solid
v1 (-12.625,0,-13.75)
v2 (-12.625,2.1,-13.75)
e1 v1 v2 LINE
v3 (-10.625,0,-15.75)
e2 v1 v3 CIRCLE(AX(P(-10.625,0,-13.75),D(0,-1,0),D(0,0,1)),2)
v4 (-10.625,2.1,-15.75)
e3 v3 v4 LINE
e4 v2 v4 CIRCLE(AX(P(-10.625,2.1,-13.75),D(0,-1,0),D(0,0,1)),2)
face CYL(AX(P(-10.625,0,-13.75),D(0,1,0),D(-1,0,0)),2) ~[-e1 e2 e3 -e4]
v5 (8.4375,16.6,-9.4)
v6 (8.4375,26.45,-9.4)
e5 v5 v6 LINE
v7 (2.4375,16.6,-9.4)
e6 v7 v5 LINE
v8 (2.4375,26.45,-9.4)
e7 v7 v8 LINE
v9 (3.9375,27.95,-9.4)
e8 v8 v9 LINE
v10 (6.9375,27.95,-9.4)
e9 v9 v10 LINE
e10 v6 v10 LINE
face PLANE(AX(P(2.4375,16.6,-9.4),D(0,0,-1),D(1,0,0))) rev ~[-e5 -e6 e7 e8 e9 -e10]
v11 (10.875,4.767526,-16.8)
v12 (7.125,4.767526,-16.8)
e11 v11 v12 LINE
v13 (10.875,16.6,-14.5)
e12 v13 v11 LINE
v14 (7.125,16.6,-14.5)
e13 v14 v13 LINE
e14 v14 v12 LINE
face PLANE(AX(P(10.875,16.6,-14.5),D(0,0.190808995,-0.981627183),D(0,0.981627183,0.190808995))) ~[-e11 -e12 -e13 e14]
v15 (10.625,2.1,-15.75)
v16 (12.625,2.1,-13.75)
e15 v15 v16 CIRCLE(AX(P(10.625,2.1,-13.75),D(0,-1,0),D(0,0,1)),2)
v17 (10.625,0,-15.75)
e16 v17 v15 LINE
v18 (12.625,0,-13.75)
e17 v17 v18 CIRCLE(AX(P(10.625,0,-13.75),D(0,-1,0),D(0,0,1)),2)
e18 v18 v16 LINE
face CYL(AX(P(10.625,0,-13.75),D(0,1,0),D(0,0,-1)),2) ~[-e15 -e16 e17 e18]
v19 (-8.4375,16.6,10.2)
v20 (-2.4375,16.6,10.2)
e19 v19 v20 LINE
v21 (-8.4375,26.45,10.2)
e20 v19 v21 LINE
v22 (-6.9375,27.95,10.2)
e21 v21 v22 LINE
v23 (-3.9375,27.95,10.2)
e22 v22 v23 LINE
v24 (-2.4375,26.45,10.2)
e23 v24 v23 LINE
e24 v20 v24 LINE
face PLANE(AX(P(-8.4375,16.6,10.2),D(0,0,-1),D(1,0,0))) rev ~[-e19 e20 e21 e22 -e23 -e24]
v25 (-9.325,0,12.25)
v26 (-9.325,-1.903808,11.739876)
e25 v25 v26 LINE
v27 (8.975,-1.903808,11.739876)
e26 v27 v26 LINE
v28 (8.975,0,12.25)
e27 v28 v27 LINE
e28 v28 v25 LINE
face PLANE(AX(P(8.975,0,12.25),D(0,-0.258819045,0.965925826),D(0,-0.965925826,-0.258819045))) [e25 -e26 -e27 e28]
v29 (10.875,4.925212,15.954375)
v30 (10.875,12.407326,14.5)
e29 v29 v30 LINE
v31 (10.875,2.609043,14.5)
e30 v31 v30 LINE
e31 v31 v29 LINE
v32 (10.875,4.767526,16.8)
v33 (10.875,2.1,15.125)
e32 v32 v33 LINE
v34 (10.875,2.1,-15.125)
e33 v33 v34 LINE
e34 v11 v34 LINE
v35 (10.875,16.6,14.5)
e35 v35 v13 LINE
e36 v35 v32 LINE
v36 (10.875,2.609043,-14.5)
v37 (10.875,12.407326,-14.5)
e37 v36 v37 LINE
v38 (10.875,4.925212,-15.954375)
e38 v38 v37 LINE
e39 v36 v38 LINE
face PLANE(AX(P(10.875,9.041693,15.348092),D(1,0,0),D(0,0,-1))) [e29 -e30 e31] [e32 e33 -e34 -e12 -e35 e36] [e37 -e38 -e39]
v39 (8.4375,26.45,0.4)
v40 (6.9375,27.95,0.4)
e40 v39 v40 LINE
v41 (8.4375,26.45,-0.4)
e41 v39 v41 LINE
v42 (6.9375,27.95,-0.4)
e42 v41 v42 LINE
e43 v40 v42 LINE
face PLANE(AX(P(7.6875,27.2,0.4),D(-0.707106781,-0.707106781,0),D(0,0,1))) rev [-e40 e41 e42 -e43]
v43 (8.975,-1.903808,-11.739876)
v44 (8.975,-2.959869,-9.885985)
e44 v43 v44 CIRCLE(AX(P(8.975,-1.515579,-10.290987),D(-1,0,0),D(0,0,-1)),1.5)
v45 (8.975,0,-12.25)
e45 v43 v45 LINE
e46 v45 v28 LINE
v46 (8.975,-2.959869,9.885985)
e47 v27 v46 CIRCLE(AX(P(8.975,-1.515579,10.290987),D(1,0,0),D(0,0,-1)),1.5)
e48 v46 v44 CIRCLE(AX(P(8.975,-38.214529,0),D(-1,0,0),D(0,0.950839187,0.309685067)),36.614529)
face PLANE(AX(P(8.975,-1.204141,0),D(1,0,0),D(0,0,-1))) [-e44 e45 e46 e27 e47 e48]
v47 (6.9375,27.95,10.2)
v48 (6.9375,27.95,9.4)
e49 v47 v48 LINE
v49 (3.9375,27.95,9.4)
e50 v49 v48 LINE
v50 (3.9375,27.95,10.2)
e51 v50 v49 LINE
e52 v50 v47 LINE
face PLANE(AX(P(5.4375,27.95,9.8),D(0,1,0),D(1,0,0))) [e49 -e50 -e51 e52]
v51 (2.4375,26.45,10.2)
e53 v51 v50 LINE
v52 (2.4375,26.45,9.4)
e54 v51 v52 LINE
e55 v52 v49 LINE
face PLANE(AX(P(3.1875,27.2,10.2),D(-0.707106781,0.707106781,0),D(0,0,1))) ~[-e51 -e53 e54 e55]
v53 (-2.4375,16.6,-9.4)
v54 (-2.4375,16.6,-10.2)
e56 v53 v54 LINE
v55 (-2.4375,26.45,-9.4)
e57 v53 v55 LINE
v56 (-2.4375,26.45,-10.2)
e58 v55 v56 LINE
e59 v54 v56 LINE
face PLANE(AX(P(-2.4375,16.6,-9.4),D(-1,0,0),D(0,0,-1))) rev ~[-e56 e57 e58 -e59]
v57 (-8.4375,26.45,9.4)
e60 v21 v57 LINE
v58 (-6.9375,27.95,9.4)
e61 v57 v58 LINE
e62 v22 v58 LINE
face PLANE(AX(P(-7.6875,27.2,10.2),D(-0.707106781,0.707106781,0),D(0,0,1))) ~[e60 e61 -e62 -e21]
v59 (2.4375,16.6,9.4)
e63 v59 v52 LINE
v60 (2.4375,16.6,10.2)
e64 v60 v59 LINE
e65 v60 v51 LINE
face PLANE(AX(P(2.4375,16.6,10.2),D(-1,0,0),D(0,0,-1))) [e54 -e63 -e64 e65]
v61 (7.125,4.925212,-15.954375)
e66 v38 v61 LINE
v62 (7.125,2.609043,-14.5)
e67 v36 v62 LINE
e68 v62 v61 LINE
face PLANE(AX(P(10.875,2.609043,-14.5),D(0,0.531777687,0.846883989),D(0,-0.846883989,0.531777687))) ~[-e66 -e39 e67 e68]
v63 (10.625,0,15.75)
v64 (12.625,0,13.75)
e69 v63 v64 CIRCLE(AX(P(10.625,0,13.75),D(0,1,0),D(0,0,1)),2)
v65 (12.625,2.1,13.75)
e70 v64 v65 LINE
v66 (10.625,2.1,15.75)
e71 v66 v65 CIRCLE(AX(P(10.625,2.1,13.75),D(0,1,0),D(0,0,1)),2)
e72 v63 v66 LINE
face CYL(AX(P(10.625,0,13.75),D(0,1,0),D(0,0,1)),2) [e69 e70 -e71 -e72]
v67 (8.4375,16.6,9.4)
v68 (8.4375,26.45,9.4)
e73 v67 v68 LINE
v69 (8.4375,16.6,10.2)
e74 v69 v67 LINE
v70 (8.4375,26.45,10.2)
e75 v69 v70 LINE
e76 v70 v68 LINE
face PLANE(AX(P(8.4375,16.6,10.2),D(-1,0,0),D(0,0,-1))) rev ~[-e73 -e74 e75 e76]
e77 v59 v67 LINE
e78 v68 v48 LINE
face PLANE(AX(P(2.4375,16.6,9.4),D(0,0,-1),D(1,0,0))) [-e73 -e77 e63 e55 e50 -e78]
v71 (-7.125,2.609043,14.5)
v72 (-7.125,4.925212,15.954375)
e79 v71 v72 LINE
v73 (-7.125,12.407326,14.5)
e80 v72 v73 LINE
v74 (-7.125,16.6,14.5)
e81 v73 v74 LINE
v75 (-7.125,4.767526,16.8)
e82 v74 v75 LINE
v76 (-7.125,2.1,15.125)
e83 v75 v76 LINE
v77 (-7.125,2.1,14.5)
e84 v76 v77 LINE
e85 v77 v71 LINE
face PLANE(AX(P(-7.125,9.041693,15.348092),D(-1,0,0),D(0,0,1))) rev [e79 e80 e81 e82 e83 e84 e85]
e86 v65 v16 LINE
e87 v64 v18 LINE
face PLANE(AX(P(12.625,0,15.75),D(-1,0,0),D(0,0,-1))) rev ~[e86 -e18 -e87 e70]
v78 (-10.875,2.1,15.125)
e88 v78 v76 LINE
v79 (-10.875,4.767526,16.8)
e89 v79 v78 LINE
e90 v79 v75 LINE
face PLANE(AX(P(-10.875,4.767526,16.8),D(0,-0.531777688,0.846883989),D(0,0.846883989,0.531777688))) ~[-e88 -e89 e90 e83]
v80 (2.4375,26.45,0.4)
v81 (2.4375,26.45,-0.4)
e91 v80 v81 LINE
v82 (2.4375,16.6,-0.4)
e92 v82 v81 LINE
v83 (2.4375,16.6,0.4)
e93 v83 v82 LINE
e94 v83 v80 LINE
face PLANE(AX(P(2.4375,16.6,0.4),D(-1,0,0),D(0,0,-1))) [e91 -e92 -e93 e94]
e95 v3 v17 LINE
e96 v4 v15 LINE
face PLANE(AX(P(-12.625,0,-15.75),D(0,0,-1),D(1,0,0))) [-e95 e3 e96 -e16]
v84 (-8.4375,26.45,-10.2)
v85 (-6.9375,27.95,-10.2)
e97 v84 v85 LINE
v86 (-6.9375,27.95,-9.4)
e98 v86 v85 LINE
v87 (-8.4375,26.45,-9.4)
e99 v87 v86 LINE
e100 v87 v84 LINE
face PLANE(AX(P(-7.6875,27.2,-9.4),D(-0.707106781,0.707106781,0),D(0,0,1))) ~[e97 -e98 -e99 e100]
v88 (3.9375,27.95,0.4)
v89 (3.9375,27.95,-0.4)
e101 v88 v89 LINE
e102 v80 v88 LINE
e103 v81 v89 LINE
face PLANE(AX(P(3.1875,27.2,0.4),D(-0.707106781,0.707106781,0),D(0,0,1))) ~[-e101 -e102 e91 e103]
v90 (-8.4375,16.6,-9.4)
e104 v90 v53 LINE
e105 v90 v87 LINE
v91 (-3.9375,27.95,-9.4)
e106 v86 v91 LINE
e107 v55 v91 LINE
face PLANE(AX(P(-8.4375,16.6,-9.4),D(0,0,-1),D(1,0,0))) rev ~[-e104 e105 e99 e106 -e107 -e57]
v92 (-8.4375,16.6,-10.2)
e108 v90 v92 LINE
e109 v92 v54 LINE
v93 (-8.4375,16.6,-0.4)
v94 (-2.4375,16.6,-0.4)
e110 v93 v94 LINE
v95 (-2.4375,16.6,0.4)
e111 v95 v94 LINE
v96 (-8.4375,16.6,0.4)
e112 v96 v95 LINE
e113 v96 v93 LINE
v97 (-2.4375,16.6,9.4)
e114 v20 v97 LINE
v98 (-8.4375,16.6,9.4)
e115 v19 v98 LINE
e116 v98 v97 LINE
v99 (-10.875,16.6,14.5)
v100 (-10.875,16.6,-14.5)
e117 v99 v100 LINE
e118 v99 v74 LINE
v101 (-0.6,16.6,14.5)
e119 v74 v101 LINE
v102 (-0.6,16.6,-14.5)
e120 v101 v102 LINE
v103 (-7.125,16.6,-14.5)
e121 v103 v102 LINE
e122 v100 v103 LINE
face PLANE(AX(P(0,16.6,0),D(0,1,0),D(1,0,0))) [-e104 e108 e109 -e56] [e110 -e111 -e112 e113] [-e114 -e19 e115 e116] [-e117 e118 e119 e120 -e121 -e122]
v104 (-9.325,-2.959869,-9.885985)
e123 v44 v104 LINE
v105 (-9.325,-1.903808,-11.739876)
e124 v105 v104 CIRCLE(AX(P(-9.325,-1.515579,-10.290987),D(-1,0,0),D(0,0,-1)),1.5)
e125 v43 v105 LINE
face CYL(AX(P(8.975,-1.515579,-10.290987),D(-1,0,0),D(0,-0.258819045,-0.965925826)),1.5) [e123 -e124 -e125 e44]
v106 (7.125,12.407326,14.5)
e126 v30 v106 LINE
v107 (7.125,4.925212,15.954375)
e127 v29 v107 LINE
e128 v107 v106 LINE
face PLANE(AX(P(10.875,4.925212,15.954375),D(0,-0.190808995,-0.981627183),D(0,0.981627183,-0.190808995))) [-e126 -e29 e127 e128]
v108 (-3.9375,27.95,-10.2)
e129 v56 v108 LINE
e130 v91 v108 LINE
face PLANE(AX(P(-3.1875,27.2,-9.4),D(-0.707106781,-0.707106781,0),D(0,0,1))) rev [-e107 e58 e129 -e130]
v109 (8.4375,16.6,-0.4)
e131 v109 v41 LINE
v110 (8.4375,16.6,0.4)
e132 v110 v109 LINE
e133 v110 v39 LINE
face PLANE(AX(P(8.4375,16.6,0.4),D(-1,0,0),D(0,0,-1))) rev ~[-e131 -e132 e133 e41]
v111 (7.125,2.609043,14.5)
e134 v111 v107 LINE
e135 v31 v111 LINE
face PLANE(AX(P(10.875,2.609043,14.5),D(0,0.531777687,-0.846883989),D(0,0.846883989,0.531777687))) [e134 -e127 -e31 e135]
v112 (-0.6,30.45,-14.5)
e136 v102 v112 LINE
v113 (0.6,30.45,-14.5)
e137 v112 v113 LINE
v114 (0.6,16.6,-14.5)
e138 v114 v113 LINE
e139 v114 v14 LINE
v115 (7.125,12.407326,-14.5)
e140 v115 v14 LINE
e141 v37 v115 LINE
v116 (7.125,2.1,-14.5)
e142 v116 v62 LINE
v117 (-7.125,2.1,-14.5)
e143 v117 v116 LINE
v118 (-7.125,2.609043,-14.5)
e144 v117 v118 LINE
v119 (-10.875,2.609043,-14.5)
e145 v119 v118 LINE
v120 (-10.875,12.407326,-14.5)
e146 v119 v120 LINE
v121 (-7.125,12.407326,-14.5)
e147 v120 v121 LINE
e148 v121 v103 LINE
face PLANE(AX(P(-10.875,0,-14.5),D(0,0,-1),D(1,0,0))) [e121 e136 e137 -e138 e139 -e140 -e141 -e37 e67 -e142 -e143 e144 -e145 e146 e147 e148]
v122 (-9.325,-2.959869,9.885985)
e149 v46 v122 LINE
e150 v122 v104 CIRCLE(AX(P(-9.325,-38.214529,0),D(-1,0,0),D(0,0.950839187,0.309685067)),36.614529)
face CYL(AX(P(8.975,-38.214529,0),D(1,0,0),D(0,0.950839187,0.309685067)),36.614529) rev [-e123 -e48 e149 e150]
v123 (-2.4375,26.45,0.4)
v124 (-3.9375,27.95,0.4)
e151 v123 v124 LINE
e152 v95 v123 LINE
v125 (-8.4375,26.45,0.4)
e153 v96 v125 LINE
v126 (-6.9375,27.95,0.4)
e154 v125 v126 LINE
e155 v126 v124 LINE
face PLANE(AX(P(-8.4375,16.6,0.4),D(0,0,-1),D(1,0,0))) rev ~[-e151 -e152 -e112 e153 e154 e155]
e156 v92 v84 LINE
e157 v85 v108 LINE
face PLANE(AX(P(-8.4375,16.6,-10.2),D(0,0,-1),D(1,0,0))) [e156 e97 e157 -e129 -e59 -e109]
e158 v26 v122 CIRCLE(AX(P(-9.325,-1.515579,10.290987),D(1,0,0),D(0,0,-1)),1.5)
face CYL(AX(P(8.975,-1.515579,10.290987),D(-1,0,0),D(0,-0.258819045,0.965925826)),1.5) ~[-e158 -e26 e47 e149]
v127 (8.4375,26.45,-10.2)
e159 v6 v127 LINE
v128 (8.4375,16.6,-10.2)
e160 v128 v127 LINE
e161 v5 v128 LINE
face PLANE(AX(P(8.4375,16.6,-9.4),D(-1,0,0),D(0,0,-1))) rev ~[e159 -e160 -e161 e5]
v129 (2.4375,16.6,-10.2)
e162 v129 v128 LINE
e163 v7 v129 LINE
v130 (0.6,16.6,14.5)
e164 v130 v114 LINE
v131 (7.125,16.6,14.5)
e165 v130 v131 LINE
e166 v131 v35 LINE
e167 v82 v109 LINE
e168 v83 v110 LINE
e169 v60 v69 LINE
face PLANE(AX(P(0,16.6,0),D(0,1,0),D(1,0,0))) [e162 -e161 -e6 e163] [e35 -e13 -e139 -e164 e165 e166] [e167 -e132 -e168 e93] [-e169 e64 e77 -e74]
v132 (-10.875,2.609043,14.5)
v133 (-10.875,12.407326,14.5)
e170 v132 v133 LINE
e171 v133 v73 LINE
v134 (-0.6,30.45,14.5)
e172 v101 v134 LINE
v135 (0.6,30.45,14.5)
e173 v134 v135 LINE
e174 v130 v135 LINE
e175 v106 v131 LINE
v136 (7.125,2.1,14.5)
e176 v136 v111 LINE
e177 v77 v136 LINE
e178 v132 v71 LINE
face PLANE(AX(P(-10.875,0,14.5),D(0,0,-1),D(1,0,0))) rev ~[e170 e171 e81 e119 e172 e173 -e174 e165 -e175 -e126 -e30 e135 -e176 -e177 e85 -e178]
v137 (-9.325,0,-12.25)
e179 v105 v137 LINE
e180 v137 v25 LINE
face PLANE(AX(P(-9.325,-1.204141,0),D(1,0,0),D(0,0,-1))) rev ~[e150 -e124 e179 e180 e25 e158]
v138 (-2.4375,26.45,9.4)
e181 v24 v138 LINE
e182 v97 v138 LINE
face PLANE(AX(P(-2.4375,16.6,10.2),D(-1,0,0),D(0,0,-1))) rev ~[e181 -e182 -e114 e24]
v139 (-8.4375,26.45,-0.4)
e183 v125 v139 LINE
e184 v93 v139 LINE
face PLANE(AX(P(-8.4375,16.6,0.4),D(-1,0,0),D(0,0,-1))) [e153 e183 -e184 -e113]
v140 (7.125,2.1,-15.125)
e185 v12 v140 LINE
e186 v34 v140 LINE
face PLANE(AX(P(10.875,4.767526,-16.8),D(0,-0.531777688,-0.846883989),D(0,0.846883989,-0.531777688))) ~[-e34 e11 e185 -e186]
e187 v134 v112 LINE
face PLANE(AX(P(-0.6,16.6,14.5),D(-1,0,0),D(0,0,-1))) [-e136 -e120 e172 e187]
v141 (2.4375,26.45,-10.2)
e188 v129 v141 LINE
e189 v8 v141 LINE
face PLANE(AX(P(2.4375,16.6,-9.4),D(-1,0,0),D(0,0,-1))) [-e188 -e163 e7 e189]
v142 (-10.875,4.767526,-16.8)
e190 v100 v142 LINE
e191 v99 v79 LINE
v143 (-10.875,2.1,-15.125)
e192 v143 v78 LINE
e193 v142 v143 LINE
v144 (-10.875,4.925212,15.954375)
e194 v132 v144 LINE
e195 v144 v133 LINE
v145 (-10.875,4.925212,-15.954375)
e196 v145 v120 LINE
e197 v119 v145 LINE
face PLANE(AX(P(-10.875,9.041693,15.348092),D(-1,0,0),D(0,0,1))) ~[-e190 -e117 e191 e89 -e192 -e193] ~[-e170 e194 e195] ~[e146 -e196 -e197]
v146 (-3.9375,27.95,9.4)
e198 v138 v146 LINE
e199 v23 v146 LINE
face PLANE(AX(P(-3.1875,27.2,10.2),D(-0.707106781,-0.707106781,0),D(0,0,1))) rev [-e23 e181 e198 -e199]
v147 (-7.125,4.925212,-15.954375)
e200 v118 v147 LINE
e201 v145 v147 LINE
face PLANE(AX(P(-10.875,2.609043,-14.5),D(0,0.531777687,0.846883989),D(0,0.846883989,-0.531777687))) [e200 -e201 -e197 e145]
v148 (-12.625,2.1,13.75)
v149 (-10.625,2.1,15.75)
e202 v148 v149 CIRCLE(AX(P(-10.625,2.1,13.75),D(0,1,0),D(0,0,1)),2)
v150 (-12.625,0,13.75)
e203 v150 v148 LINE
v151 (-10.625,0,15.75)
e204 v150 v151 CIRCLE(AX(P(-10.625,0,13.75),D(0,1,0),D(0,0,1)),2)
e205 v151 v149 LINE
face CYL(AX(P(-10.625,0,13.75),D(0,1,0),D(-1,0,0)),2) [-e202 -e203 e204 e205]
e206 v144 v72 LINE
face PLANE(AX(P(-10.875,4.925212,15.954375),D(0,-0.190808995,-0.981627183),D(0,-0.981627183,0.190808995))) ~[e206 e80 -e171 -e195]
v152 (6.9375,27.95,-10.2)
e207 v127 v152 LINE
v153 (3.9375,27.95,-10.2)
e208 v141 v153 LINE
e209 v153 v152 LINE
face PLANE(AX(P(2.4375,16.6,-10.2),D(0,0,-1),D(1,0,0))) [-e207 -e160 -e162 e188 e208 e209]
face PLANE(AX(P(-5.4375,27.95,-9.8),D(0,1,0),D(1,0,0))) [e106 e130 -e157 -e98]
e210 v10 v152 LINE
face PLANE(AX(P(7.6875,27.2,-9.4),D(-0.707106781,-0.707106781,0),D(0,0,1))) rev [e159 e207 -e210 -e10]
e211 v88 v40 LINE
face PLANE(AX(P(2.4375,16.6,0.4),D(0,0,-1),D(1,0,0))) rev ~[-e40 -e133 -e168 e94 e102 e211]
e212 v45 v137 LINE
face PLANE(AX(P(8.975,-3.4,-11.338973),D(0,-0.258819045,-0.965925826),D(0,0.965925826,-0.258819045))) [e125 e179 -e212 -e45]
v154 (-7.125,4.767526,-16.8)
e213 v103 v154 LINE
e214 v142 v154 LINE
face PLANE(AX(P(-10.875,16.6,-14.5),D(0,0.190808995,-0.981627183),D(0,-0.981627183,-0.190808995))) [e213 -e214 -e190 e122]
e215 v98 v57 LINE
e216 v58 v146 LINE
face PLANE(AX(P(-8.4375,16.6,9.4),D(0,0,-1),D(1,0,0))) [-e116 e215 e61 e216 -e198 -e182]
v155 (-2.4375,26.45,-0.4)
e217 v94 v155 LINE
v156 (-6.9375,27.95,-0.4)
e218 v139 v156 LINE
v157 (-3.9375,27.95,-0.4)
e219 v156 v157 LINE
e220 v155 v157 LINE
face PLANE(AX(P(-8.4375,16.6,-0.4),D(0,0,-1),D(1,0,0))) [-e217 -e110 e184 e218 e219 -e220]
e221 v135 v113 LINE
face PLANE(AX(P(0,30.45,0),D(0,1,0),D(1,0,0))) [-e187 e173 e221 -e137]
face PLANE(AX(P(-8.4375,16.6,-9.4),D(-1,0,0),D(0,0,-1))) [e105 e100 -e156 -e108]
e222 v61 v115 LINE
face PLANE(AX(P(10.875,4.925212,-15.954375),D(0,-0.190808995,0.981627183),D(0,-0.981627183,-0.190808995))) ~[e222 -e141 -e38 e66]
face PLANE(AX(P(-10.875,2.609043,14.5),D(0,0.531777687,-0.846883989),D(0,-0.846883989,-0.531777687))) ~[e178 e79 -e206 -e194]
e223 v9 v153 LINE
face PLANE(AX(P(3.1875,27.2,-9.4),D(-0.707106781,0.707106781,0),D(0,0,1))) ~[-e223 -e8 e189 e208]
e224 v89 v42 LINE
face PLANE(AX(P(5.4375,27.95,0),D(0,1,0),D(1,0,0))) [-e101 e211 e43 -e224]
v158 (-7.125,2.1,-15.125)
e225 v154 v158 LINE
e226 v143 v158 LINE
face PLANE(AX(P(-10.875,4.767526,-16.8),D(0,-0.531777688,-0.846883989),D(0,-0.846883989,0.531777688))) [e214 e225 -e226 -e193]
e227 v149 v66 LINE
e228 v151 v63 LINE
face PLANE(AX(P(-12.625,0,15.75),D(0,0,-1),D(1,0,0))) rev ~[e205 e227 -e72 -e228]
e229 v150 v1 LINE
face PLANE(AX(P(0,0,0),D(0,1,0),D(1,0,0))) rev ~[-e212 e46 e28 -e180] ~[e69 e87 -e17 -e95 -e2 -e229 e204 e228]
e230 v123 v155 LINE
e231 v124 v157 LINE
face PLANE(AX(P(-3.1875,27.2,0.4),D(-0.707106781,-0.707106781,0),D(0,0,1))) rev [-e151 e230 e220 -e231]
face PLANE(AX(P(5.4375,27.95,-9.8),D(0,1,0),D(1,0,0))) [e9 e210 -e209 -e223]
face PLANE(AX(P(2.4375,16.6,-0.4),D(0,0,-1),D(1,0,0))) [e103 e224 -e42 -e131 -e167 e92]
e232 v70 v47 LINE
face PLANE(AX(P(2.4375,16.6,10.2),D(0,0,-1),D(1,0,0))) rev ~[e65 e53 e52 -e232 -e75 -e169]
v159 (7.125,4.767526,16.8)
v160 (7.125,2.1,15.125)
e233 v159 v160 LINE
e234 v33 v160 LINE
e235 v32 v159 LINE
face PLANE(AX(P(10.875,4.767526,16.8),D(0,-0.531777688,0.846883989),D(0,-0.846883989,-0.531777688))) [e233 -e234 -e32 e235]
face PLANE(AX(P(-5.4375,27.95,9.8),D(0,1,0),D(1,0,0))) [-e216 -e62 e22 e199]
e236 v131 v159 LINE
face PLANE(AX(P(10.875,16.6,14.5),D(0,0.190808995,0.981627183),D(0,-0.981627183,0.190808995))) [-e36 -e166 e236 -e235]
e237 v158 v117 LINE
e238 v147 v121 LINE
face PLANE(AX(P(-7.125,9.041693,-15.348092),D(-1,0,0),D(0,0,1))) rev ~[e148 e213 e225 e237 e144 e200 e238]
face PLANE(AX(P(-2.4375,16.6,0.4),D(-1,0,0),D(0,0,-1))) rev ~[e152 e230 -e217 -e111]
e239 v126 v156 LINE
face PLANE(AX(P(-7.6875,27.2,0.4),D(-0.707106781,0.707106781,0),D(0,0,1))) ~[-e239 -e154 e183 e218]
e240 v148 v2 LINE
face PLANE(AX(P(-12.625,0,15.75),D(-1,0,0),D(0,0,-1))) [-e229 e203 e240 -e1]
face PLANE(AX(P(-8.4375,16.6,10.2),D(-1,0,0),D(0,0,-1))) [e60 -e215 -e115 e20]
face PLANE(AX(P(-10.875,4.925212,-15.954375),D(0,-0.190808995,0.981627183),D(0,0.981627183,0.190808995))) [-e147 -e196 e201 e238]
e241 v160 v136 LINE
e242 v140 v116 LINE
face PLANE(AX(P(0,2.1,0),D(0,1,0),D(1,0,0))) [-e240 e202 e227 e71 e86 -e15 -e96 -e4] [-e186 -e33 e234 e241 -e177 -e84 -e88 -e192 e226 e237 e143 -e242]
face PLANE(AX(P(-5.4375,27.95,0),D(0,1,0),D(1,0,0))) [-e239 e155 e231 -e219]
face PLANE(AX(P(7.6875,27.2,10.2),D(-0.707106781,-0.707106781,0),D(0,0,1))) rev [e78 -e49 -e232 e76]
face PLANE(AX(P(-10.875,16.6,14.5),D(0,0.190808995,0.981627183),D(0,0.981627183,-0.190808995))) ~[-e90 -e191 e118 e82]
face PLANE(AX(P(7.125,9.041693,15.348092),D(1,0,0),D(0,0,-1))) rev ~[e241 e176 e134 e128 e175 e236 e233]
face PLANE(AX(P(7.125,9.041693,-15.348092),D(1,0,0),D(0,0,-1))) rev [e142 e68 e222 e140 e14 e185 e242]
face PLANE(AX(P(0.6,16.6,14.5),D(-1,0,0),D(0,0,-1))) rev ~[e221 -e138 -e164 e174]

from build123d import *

# Parameters (mm, degrees)
SKETCH1_W            = 21.75
SKETCH1_H            = 29
BOSS_EXTRUDE1_DEPTH  = 16.6
SKETCH2_W            = 25.25
SKETCH2_H            = 31.5
BOSS_EXTRUDE2_DEPTH  = 2.1
SKETCH3_W            = 1.2
SKETCH3_H            = 29
BOSS_EXTRUDE3_DEPTH  = 13.85
BOSS_EXTRUDE4_START  = -3.65
BOSS_EXTRUDE4_DEPTH  = 18.3
SKETCH5_W            = 6
SKETCH5_H            = 0.8
BOSS_EXTRUDE6_DEPTH  = 11.35
CHAMFER2_SIZE        = 1.5
FILLET1_R            = 2
FILLET2_R            = 1.5
BOSS_EXTRUDE7_DEPTH  = 3.75
MIRROR2_COPY_1_DEPTH = 3.75


with BuildPart() as part:
    # Sketch1 → Boss-Extrude1 (new body)
    with BuildSketch(Plane(origin=(0, 0, 0), x_dir=(1, 0, 0), z_dir=(0, 1, 0))):
        Rectangle(SKETCH1_W, SKETCH1_H)
    extrude(amount=BOSS_EXTRUDE1_DEPTH)

    # Sketch2 → Boss-Extrude2 (add)
    with BuildSketch(Plane(origin=(0, 0, 0), x_dir=(1, 0, 0), z_dir=(0, 1, 0))):
        Rectangle(SKETCH2_W, SKETCH2_H)
    extrude(amount=BOSS_EXTRUDE2_DEPTH)

    # Sketch3 → Boss-Extrude3 (add)
    with BuildSketch(Plane(origin=(0, 16.6, 0), x_dir=(1, 0, 0), z_dir=(0, 1, 0))):
        Rectangle(SKETCH3_W, SKETCH3_H)
    extrude(amount=BOSS_EXTRUDE3_DEPTH)

    # Sketch4 → Boss-Extrude4 (add)
    with BuildSketch(Plane(origin=(12.625, 0, 0), x_dir=(0, 0, -1), z_dir=(1, 0, 0)).offset(BOSS_EXTRUDE4_START)):
        with BuildLine():
            Line((-12.25, 0), (-11.338972746, -3.4))
            ThreePointArc((-11.338972746, -3.4), (0, -1.6), (11.338972746, -3.4))
            Line((11.338972746, -3.4), (12.25, 0))
            Line((12.25, 0), (-12.25, 0))
        make_face()
    extrude(amount=-BOSS_EXTRUDE4_DEPTH)

    # Sketch5 → Boss-Extrude6 (add)
    with BuildSketch(Plane(origin=(0, 16.6, 0), x_dir=(1, 0, 0), z_dir=(0, 1, 0))):
        with Locations((5.4375, 9.8)):
            Rectangle(SKETCH5_W, SKETCH5_H)
        with Locations((5.4375, 0)):
            Rectangle(SKETCH5_W, SKETCH5_H)
        with Locations((5.4375, -9.8)):
            Rectangle(SKETCH5_W, SKETCH5_H)
        with Locations((-5.4375, -9.8)):
            Rectangle(SKETCH5_W, SKETCH5_H)
        with Locations((-5.4375, 0)):
            Rectangle(SKETCH5_W, SKETCH5_H)
        with Locations((-5.4375, 9.8)):
            Rectangle(SKETCH5_W, SKETCH5_H)
    extrude(amount=BOSS_EXTRUDE6_DEPTH)

    # Chamfer2
    chamfer2_edges = [part.edges().sort_by_distance(p)[0] for p in [
        (-2.4375, 27.95, 0),
        (-8.4375, 27.95, 0),
        (-2.4375, 27.95, -9.8),
        (-8.4375, 27.95, -9.8),
        (8.4375, 27.95, 0),
        (2.4375, 27.95, 0),
        (-2.4375, 27.95, 9.8),
        (-8.4375, 27.95, 9.8),
        (2.4375, 27.95, -9.8),
        (8.4375, 27.95, -9.8),
        (2.4375, 27.95, 9.8),
        (8.4375, 27.95, 9.8),
    ]]
    chamfer(chamfer2_edges, length=CHAMFER2_SIZE)

    # Fillet1
    fillet1_edges = [part.edges().sort_by_distance(p)[0] for p in [
        (12.625, 1.05, 15.75),
        (12.625, 1.05, -15.75),
        (-12.625, 1.05, -15.75),
        (-12.625, 1.05, 15.75),
    ]]
    fillet(fillet1_edges, radius=FILLET1_R)

    # Fillet2
    fillet2_edges = [part.edges().sort_by_distance(p)[0] for p in [
        (-0.175, -3.4, -11.338972746),
        (-0.175, -3.4, 11.338972746),
    ]]
    fillet(fillet2_edges, radius=FILLET2_R)

    # Sketch6 → Boss-Extrude7 (add)
    with BuildSketch(Plane.ZY.offset(10.875)):
        Polygon((-14.5, 16.6), (-16.8, 4.767525763), (-15.125, 2.1), (-14.5, 2.1), (-14.5, 2.609042619), (-15.954375498, 4.925212238), (-14.5, 12.407325549), align=None)
    boss_extrude7 = extrude(amount=-BOSS_EXTRUDE7_DEPTH)

    # Mirror1: Boss-Extrude7 across plane
    add(boss_extrude7.mirror(Plane(origin=(0, 0, 0), x_dir=(0, 0, 1), z_dir=(1, 0, 0))))

    # Mirror2: Boss-Extrude7 across plane
    add(boss_extrude7.mirror(Plane.XY))

    # Mirror2 copy 1 sketch → Mirror2 copy 1 (add)
    with BuildSketch(Plane(origin=(10.875, 0, 0), x_dir=(0, 0, -1), z_dir=(1, 0, 0))):
        Polygon((-14.5, 16.6), (-16.8, 4.767525763), (-15.125, 2.1), (-14.5, 2.1), (-14.5, 2.609042619), (-15.954375498, 4.925212238), (-14.5, 12.407325549), align=None)
    extrude(amount=-MIRROR2_COPY_1_DEPTH)


solid = part.part
